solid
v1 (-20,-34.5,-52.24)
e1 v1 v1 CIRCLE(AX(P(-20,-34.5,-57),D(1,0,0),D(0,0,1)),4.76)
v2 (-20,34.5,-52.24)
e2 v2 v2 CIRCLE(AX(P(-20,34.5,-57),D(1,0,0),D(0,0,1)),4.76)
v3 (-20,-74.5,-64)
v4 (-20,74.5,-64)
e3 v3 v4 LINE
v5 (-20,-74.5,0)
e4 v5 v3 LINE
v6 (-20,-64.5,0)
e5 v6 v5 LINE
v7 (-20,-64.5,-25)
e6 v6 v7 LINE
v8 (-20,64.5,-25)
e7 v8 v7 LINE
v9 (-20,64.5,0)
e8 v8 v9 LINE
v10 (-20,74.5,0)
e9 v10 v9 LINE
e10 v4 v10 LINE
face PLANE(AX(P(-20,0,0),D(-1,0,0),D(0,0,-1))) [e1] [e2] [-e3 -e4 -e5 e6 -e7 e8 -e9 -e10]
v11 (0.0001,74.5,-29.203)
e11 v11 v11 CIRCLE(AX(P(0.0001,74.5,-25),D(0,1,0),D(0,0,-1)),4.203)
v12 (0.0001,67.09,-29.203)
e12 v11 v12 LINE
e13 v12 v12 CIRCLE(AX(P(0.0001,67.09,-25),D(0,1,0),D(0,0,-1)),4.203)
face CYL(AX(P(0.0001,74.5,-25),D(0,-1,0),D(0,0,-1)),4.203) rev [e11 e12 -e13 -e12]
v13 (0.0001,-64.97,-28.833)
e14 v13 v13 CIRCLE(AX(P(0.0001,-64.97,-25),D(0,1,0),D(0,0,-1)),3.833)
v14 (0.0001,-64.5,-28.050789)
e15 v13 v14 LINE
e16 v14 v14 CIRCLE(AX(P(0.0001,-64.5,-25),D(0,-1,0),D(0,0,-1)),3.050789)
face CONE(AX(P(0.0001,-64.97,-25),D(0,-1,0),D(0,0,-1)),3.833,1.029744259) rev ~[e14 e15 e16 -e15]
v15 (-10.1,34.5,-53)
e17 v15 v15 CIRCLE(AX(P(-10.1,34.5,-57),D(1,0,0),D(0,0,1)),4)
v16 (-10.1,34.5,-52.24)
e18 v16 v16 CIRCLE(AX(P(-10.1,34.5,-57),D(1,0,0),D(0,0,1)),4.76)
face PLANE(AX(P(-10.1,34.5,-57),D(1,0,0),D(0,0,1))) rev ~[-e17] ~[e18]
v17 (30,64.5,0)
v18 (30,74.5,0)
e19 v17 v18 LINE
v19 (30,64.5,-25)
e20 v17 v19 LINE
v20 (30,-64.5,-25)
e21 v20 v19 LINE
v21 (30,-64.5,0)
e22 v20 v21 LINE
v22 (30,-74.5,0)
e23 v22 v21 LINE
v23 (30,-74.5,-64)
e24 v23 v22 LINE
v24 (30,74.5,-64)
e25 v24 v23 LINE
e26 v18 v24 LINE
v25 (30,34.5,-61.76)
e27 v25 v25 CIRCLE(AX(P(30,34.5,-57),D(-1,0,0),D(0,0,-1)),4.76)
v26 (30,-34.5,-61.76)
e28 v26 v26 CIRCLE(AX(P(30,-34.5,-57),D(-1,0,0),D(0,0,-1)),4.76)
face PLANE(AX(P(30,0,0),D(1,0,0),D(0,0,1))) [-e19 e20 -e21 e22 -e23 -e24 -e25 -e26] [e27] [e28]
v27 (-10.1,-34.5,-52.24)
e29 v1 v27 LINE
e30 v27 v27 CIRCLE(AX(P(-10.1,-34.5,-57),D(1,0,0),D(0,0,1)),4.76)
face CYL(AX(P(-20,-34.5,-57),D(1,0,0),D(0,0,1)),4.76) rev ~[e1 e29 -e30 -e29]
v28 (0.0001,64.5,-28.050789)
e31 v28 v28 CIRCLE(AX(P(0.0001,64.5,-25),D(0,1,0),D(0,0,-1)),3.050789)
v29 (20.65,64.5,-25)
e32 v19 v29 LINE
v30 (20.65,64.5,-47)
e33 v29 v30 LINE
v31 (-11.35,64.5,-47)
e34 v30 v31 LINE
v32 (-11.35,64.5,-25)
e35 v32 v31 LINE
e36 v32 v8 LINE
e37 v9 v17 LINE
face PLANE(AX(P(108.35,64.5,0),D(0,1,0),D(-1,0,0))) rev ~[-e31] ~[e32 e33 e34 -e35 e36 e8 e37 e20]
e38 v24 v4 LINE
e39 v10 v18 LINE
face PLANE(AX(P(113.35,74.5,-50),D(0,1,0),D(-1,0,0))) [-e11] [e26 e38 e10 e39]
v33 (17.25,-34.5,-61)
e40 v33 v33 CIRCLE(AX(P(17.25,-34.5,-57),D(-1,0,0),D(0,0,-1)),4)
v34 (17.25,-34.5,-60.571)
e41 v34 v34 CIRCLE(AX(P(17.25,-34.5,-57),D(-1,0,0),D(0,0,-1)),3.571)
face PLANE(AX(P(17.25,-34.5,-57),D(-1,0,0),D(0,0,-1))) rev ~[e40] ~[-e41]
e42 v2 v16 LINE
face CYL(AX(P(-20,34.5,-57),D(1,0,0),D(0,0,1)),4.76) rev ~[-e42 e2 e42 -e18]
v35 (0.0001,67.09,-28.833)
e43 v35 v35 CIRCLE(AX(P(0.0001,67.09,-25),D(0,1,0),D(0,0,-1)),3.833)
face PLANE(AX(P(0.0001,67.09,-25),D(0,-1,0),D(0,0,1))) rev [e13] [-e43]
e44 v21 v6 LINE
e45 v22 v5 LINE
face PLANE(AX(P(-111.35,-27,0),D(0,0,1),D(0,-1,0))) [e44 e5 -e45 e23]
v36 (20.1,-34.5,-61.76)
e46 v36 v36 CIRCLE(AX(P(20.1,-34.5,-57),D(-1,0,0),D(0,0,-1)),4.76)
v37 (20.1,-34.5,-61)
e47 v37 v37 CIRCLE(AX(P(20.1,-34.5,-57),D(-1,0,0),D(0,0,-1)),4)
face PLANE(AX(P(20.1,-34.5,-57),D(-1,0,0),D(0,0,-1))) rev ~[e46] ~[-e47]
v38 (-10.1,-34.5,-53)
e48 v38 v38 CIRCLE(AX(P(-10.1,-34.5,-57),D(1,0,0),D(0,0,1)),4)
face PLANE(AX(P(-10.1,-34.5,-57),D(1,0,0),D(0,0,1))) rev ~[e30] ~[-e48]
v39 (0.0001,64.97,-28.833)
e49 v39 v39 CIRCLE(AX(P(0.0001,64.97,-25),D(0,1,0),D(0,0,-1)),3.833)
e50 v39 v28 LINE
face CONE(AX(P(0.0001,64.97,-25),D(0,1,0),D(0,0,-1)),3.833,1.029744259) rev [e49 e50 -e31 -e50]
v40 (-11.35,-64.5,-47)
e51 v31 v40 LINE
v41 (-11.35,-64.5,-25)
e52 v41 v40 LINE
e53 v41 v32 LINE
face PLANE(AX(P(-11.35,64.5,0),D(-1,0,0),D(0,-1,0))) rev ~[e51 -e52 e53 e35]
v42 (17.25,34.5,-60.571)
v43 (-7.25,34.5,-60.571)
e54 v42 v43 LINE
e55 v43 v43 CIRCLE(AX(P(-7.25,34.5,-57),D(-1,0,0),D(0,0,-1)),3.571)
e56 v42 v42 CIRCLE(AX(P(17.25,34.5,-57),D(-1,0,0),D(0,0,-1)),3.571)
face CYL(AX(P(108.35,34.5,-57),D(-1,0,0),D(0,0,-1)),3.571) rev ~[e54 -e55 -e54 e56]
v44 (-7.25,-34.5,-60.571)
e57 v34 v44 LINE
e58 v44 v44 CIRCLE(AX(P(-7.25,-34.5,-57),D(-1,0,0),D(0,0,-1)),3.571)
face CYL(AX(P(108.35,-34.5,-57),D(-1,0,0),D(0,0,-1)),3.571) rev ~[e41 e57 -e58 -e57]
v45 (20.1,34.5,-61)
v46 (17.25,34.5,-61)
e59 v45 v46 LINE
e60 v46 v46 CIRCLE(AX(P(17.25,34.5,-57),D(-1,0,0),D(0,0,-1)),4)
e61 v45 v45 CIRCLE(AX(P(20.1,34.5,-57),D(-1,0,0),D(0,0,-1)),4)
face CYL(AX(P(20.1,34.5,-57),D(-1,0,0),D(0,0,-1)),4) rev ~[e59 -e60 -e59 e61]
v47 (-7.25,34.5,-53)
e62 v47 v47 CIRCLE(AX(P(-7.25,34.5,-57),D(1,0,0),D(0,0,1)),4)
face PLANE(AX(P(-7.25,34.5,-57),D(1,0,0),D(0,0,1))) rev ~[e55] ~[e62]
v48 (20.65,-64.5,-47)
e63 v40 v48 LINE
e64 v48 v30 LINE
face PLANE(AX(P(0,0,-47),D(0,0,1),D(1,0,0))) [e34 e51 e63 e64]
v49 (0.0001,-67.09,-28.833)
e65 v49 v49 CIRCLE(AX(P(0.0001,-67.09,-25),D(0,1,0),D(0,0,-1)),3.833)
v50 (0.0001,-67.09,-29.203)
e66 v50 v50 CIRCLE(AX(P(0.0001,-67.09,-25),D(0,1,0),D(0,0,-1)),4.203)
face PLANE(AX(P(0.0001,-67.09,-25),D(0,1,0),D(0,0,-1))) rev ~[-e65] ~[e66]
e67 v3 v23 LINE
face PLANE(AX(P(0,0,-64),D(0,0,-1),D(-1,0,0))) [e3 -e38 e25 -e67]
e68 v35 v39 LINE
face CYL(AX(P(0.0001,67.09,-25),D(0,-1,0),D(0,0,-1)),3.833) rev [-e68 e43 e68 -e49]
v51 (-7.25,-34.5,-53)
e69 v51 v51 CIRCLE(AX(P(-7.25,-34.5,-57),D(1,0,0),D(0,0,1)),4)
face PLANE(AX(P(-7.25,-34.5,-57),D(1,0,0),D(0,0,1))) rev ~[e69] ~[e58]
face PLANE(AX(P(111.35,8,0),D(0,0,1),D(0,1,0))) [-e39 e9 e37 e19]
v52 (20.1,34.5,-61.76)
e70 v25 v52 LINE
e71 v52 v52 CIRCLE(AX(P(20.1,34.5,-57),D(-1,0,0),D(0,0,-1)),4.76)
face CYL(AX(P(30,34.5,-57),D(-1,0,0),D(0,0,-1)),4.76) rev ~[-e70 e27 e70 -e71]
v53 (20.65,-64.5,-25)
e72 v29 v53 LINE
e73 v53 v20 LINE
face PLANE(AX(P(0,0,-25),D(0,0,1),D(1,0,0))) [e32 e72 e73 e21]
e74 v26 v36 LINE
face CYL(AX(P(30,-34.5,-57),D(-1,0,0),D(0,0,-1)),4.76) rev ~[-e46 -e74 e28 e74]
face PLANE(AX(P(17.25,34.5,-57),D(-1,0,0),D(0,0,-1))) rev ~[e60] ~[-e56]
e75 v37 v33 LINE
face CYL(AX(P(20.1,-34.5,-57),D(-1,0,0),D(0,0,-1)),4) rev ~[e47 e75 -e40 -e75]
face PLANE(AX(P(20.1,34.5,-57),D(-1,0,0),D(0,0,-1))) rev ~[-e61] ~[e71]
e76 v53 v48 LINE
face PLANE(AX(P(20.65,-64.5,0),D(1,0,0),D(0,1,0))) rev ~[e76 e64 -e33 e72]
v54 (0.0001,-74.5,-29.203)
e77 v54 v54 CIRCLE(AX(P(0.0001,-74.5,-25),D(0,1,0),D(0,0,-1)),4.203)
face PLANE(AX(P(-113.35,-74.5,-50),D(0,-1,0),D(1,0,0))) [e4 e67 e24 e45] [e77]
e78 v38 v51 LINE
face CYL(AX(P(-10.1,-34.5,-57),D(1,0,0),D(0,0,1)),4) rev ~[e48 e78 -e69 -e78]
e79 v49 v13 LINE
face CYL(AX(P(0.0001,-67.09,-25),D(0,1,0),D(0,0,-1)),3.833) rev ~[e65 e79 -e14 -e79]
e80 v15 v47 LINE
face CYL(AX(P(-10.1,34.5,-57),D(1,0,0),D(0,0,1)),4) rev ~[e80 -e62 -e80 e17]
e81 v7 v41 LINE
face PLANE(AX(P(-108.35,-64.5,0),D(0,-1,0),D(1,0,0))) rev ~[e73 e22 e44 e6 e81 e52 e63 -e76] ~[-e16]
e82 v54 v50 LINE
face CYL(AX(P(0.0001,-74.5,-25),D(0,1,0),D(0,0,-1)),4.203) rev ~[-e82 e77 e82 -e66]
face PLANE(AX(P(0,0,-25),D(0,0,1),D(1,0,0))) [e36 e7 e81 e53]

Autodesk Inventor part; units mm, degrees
ref_plane "XZ Plane" through (0, 0, 0) normal (0, 1, 0) x (-1, 0, 0)
ref_plane "XY Plane" through (0, 0, 0) normal (0, 0, 1) x (1, 0, 0)
sketch "Sketch1" plane through (0, 0, 0) normal (0, 0, 1) x (1, 0, 0)
  line L0 (-111.35, -74.5) -> (111.35, -74.5)
  line L1 (111.35, -74.5) -> (111.35, 74.5)
  line L2 (111.35, 74.5) -> (-111.35, 74.5)
  line L3 (-111.35, 74.5) -> (-111.35, -74.5)
  line L4 (-111.35, -74.5) -> (111.35, 74.5) construction
  line L5 (111.35, -74.5) -> (-111.35, 74.5) construction
  point P0 (0, 0)
  dimension "d0" = 222.7
  dimension "d1" = 149
extrude "MainInnerBodyExtrusion" add sketch "Sketch1" against normal blind 50
sketch "Sketch3" plane through (0, 0, 0) normal (0, 0, 1) x (1, 0, 0)
  line L0 (36.65, -27) -> (95.65, -27)
  line L1 (95.65, -27) -> (95.65, 27)
  line L2 (95.65, 27) -> (36.65, 27)
  line L3 (36.65, 27) -> (36.65, -27)
  line L4 (36.65, -27) -> (95.65, 27) construction
  line L5 (95.65, -27) -> (36.65, 27) construction
  line L6 (111.35, -74.5) -> (111.35, 74.5) projected
  line L7 (0, 0) -> (111.35, 0) construction
  line L8 (-111.35, -74.5) -> (-111.35, 74.5) construction
  line L9 (-111.35, 74.5) -> (-111.35, -74.5) projected
  point P0 (66.15, 0)
  point P1 (66.15, 0)
  dimension "d5" = 15.7
  dimension "d6" = 54
  dimension "d7" = 59
extrude "HoleForCamerabase" cut sketch "Sketch3" against normal blind 47
sketch "Sketch4" plane through (0, 0, 0) normal (0, 0, 1) x (1, 0, 0)
  line L0 (0, 0) -> (-111.35, 0) construction
  line L1 (-111.35, -74.5) -> (-111.35, 74.5) construction
  line L2 (-108.35, -31) -> (-92.35, -31)
  line L3 (-92.35, -31) -> (-92.35, 31)
  line L4 (-92.35, 31) -> (-108.35, 31)
  line L5 (-108.35, 31) -> (-108.35, -31)
  line L6 (-108.35, -31) -> (-92.35, 31) construction
  line L7 (-92.35, -31) -> (-108.35, 31) construction
  point P0 (-100.35, 0)
  dimension "d13" = 16
  dimension "d14" = 62
  dimension "d15" = 3
extrude "HoleForFan" cut sketch "Sketch4" against normal blind 47
sketch "Sketch6" plane through (0, 0, 0) normal (0, 0, 1) x (1, 0, 0)
  line L0 (-111.35, -74.5) -> (-111.35, 74.5) construction
  line L1 (-111.35, 0) -> (111.35, 0) construction
  line L2 (111.35, 74.5) -> (111.35, -74.5) construction
  line L3 (-11.35, -64.5) -> (20.65, -64.5)
  line L4 (20.65, -64.5) -> (20.65, 64.5)
  line L5 (20.65, 64.5) -> (-11.35, 64.5)
  line L6 (-11.35, 64.5) -> (-11.35, -64.5)
  line L7 (-11.35, -64.5) -> (20.65, 64.5) construction
  line L8 (20.65, -64.5) -> (-11.35, 64.5) construction
  line L9 (36.65, -27) -> (36.65, 27) projected
  point P0 (0, 0)
  point P1 (4.65, 0)
  dimension "d20" = 32
  dimension "d21" = 129
  dimension "d88" = 16
extrude "HoleForPi" cut sketch "Sketch6" against normal blind 47
sketch "Sketch7" plane through (0, 0, 0) normal (0, 0, 1) x (1, 0, 0)
  line L0 (0, 0) -> (-111.35, 0) construction
  line L1 (-111.35, 74.5) -> (-111.35, -74.5) construction
  line L2 (-76.35, -59) -> (-27.35, -59)
  line L3 (-27.35, -59) -> (-27.35, 59)
  line L4 (-27.35, 59) -> (-76.35, 59)
  line L5 (-76.35, 59) -> (-76.35, -59)
  line L6 (-76.35, -59) -> (-27.35, 59) construction
  line L7 (-27.35, -59) -> (-76.35, 59) construction
  line L8 (-11.35, -64.5) -> (-11.35, 64.5) projected
  line L9 (-92.35, 31) -> (-92.35, -31) construction
  point P0 (-51.85, 0)
  dimension "d25" = 16
  dimension "d26" = 49
  dimension "d27" = 118
extrude "HoleForPoeAdapter" cut sketch "Sketch7" against normal blind 47
sketch "Sketch10" plane through (0, 0, 0) normal (0, 0, 1) x (1, 0, 0)
  line L0 (39.35, 36.5) -> (108.35, 36.5)
  line L1 (108.35, 36.5) -> (108.35, 64.5)
  line L2 (108.35, 64.5) -> (39.35, 64.5)
  line L3 (39.35, 64.5) -> (39.35, 36.5)
  line L4 (39.35, 36.5) -> (108.35, 64.5) construction
  line L5 (108.35, 36.5) -> (39.35, 64.5) construction
  line L6 (111.35, 74.5) -> (-111.35, 74.5) projected
  line L7 (111.35, -74.5) -> (111.35, 74.5) projected
  point P0 (0, 0)
  point P1 (73.85, 50.5)
  point P2 (94.85, 8.5)
  point P3 (108.35, 50.5)
  dimension "d36" = 69
  dimension "d37" = 28
  dimension "d85" = 3
extrude "HoleForThermister" cut sketch "Sketch10" against normal blind 47
sketch "Sketch11" plane through (0, 0, 0) normal (0, 0, 1) x (1, 0, 0)
  line L0 (58.35, -64.5) -> (108.35, -64.5)
  line L1 (108.35, -64.5) -> (108.35, -47.5)
  line L2 (108.35, -47.5) -> (58.35, -47.5)
  line L3 (58.35, -47.5) -> (58.35, -64.5)
  line L4 (58.35, -64.5) -> (108.35, -47.5) construction
  line L5 (108.35, -64.5) -> (58.35, -47.5) construction
  line L6 (111.35, -74.5) -> (111.35, 74.5) projected
  line L7 (-111.35, -74.5) -> (111.35, -74.5) projected
  line L8 (95.65, -27) -> (36.65, -27) projected
  line L9 (20.65, 64.5) -> (20.65, -64.5) projected
  point P0 (0, 0)
  point P1 (83.35, -56)
  point P2 (94.85, -8.5)
  point P3 (83.35, -47.5)
  point P4 (58.35, -56)
  point P5 (111.35, 74.5)
  dimension "d42" = 50
  dimension "d43" = 17
  dimension "d86" = 3
  dimension "d87" = 10
extrude "HoleForSensor" cut sketch "Sketch11" against normal blind 31.5
sketch "Sketch15" plane through (-111.35, -74.5, 0) normal (-1, 0, 0) x (0, 0, 1)
  line L0 (0, 149) -> (0, 0) projected
  line L1 (0, 149) -> (-50, 149) projected
  line L2 (-50, 0) -> (-50, 149) projected
  line L3 (0, 0) -> (-50, 0) projected
  line L4 (0, 0) -> (0, 149) projected
  line L5 (0, 101.5) -> (0, 47.5) projected
  line L6 (0, 74.5) -> (-30, 74.5) construction
  line L7 (0, 76.5) -> (-29.9333, 76.5)
  line L8 (0, 84.5) -> (-28.2843, 84.5)
  line L9 (0, 80.5) -> (-29.3939, 80.5)
  line L10 (0, 76.5) -> (0, 74.5)
  line L11 (0, 88.5) -> (-26.533, 88.5)
  line L12 (0, 92.5) -> (-24, 92.5)
  line L13 (-20.5913, 97.5) -> (0, 97.5)
  line L14 (-14.9666, 101.5) -> (0, 101.5)
  line L15 (0, 84.5) -> (0, 80.5)
  line L16 (0, 101.5) -> (0, 97.5)
  line L17 (0, 92.5) -> (0, 88.5)
  line L18 (0, 72.5) -> (-29.9333, 72.5)
  line L19 (0, 64.5) -> (-28.2843, 64.5)
  line L20 (0, 68.5) -> (-29.3939, 68.5)
  line L21 (0, 72.5) -> (0, 74.5)
  line L22 (0, 60.5) -> (-26.533, 60.5)
  line L23 (0, 56.5) -> (-24, 56.5)
  line L24 (-20.5913, 51.5) -> (0, 51.5)
  line L25 (-14.9666, 47.5) -> (0, 47.5)
  line L26 (0, 64.5) -> (0, 68.5)
  line L27 (0, 56.5) -> (0, 60.5)
  line L28 (0, 47.5) -> (0, 51.5)
  line L29 (0, 72.5) -> (0, 76.5)
  line L30 (0, 80.5) -> (0, 84.5)
  line L31 (0, 88.5) -> (0, 92.5)
  line L32 (0, 97.5) -> (0, 149)
  arc A0 (-28.2843, 84.5) -> (-29.3939, 80.5) centre (0, 74.5) ccw
  arc A1 (-14.9666, 101.5) -> (-20.5913, 97.5) centre (0, 74.5) ccw
  arc A2 (-24, 92.5) -> (-26.533, 88.5) centre (0, 74.5) ccw
  arc A3 (-29.9333, 76.5) -> (-29.9333, 72.5) centre (0, 74.5) ccw
  arc A4 (-29.3939, 68.5) -> (-28.2843, 64.5) centre (0, 74.5) ccw
  arc A5 (-26.533, 60.5) -> (-24, 56.5) centre (0, 74.5) ccw
  arc A6 (-20.5913, 51.5) -> (-14.9666, 47.5) centre (0, 74.5) ccw
  point P0 (0, 82)
  point P1 (0, 67.0167)
  point P2 (0, 4.25)
  point P3 (-10.2956, 97.5)
  point P4 (0, 47.5)
  point P5 (0, 51.5)
  point P6 (0, 56.5)
  point P7 (0, 60.5)
  point P8 (0, 64.5)
  point P9 (0, 68.5)
  point P10 (0, 72.5)
  point P11 (0, 80.5)
  point P12 (0, 84.5)
  point P13 (0, 88.5)
  point P14 (0, 92.5)
  point P15 (0, 97.5)
  point P16 (0, 101.5)
  dimension "d69" = 2
  dimension "d71" = 4
  dimension "d72" = 4
  dimension "d73" = 4
  dimension "d75" = 4
  dimension "d142" = 30
extrude "SlotsForRearFan" cut sketch "Sketch15" against normal up to surface (3 mm away) contours L0 L13 A1 L14 | L0 L11 A2 L12 | L25 A6 L24 L0 | L0 L9 A0 L8 | L23 A5 L22 L0 | L0 L18 A3 L7 | L19 A4 L20 L0
sketch "Sketch16" plane through (0, 0, -47) normal (0, 0, 1) x (1, 0, 0)
  line L0 (95.65, 27) -> (95.65, -27) projected
  line L1 (80.15, 10.765) -> (80.15, -11.235) construction
  line L2 (78.65, 10.765) -> (78.65, -11.235)
  line L3 (75.65, -11.235) -> (75.65, 10.765)
  line L4 (72.65, 8.7746) -> (72.65, -9.2446)
  line L5 (69.65, 3.5785) -> (69.65, -4.0485)
  line L6 (81.65, 10.765) -> (81.65, -11.235)
  line L7 (84.65, -11.235) -> (84.65, 10.765)
  line L8 (87.65, 8.7746) -> (87.65, -9.2446)
  line L9 (90.65, 3.5785) -> (90.65, -4.0485)
  line L10 (73.7991, 10.765) -> (75.65, 10.765)
  line L11 (75.65, -11.235) -> (73.7991, -11.235)
  line L12 (73.7991, -11.235) -> (72.65, -9.2446)
  line L13 (69.65, -4.0485) -> (67.4483, -0.235)
  line L14 (67.4483, -0.235) -> (69.65, 3.5785)
  line L15 (72.65, 8.7746) -> (73.7991, 10.765)
  line L16 (78.65, 10.765) -> (81.65, 10.765)
  line L17 (84.65, 10.765) -> (86.5009, 10.765)
  line L18 (86.5009, -11.235) -> (84.65, -11.235)
  line L19 (81.65, -11.235) -> (78.65, -11.235)
  line L20 (92.8517, -0.235) -> (90.65, -4.0485)
  line L21 (87.65, -9.2446) -> (86.5009, -11.235)
  line L22 (86.5009, 10.765) -> (87.65, 8.7746)
  line L23 (90.65, 3.5785) -> (92.8517, -0.235)
  point P0 (0, 0)
  point P1 (80.15, -0.235)
  point P2 (69.65, -0.235)
  dimension "d78" = 15.5
  dimension "d89" = 1.5
  dimension "d90" = 3
  dimension "d91" = 3
  dimension "d92" = 3
extrude "VentForCamera" cut sketch "Sketch16" against normal through all
sketch "Sketch18" plane through (111.35, -74.5, 0) normal (1, 0, 0) x (0, 0, -1)
  line L0 (0, 74.5) -> (29.6767, 74.5) construction
  arc A0 (24, 66.5) -> (24, 82.5) centre (24, 74.5) ccw
  line L1 (0, 0) -> (0, 149) projected
  line L2 (24, 82.5) -> (0, 82.5)
  line L3 (24, 66.5) -> (0, 66.5)
  line L4 (0, 82.5) -> (0, 66.5)
  point P0 (0, 74.5)
  dimension "d97" = 16
  dimension "d137" = 24
extrude "HoleForLens" cut sketch "Sketch18" against normal up to surface (15.7 mm away)
sketch "Sketch23" plane through (0, 0, 0) normal (0, 0, 1) x (1, 0, 0)
  line L0 (-106.35, -69.5) -> (106.35, -69.5) construction
  line L1 (106.35, -69.5) -> (106.35, 69.5) construction
  line L2 (106.35, 69.5) -> (-106.35, 69.5) construction
  line L3 (-106.35, 69.5) -> (-106.35, -69.5) construction
  line L4 (-106.35, -69.5) -> (106.35, 69.5) construction
  line L5 (106.35, -69.5) -> (-106.35, 69.5) construction
  line L6 (111.35, -74.5) -> (111.35, -8) projected
  line L7 (111.35, 74.5) -> (-111.35, 74.5) projected
  line L8 (-111.35, -27) -> (-111.35, -74.5) projected
  line L9 (-111.35, 74.5) -> (-111.35, 27) projected
  line L10 (111.35, 8) -> (111.35, 74.5) projected
  point P0 (0, 0)
  point P1 (35.15, -69.5)
  point P2 (-35.15, -69.5)
  point P3 (-35.15, 69.5)
  point P4 (35.15, 69.5)
  dimension "d106" = 5
  dimension "d108" = 5
  dimension "d222" = 76.2
  dimension "d223" = 76.2
  dimension "d224" = 76.2
  dimension "d225" = 76.2
hole "Hole for 6-32 Insert" at (-106.35, 69.5, 0) at (106.35, 69.5, 0) at (106.35, -69.5, 0) at (-106.35, -69.5, 0) at (-35.15, -69.5, 0) at (35.15, -69.5, 0) at (-35.15, 69.5, 0) at (35.15, 69.5, 0) direction (0, 0, -1) diameter 4.7 depth 7.2 tip angle 118 counterbore diameter 5.54 counterbore depth 5.55
hole "Screw hole for 6-32 screw" at (-106.35, -69.5, 0) at (106.35, -69.5, 0) at (106.35, 69.5, 0) at (-106.35, 69.5, 0) direction (0, 0, -1) diameter 3.797 depth 15 tip angle 118 clearance for "Hex Machine Screw" size "#6" standard "Ansi Unified Screw Threads"
sketch "Sketch24" plane through (-111.35, -74.5, 0) normal (0, -1, 0) x (1, 0, 0)
  line L0 (0, -50) -> (222.7, -50) construction
  line L1 (222.7, 0) -> (207, 0) construction
  line L2 (0, 0) -> (0, -50) projected
  line L3 (111.3501, -25) -> (0, -25) construction
  line L4 (111.3501, -25) -> (222.7, -24.84) construction
  line L5 (222.7, 0) -> (222.7, -50) construction
  point P0 (111.35, 0)
  dimension "d226" = 25
  dimension "d227" = 111.3501
hole "Side hole for 1-4 20 insert" at (0.0001, -74.5, -25) direction (0, 1, 0) diameter 7.666 depth 9.53 tip angle 118 counterbore diameter 8.406 counterbore depth 7.41 clearance for "Hex Machine Screw" size "1/4" standard "Ansi Unified Screw Threads"
mirror "Mirror for side insert" about plane through (0, 0, 0) normal (0, 1, 0) of "Side hole for 1-4 20 insert"
sketch "Sketch25" plane through (0, 0, 0) normal (0, 0, 1) x (1, 0, 0)
  line L0 (111.35, 74.5) -> (-111.35, 74.5) projected
  line L1 (-111.35, 74.5) -> (-111.35, 27) projected
  line L2 (-111.35, -74.5) -> (111.35, -74.5) projected
  line L3 (81.65, -11.235) -> (78.65, -11.235) projected
  line L4 (78.65, -11.235) -> (78.65, 10.765) projected
  line L5 (78.65, 10.765) -> (81.65, 10.765) projected
  line L6 (81.65, 10.765) -> (81.65, -11.235) projected
  line L7 (73.7991, 10.765) -> (75.65, 10.765) projected
  line L8 (75.65, 10.765) -> (75.65, -11.235) projected
  line L9 (75.65, -11.235) -> (73.7991, -11.235) projected
  line L10 (73.7991, -11.235) -> (72.65, -9.2446) projected
  line L11 (72.65, -9.2446) -> (72.65, 8.7746) projected
  line L12 (72.65, 8.7746) -> (73.7991, 10.765) projected
  line L13 (87.65, 8.7746) -> (87.65, -9.2446) projected
  line L14 (87.65, -9.2446) -> (86.5009, -11.235) projected
  line L15 (86.5009, -11.235) -> (84.65, -11.235) projected
  line L16 (84.65, -11.235) -> (84.65, 10.765) projected
  line L17 (84.65, 10.765) -> (86.5009, 10.765) projected
  line L18 (86.5009, 10.765) -> (87.65, 8.7746) projected
  line L19 (69.65, 3.5785) -> (69.65, -4.0485) projected
  line L20 (69.65, -4.0485) -> (67.4483, -0.235) projected
  line L21 (67.4483, -0.235) -> (69.65, 3.5785) projected
  line L22 (92.8517, -0.235) -> (90.65, -4.0485) projected
  line L23 (90.65, -4.0485) -> (90.65, 3.5785) projected
  line L24 (90.65, 3.5785) -> (92.8517, -0.235) projected
  line L25 (95.65, 27) -> (95.65, -27) projected
  line L26 (36.65, 27) -> (95.65, 27) projected
  line L27 (36.65, -27) -> (36.65, 27) projected
  line L28 (95.65, -27) -> (36.65, -27) projected
  line L29 (111.35, -74.5) -> (111.35, -8) projected
  line L30 (111.35, 8) -> (111.35, 74.5) projected
  line L31 (-108.35, -64.5) -> (108.35, -64.5)
  line L32 (108.35, -64.5) -> (108.35, 64.5)
  line L33 (108.35, 64.5) -> (-108.35, 64.5)
  line L34 (-108.35, 64.5) -> (-108.35, -64.5)
  line L35 (-108.35, -64.5) -> (108.35, 64.5) construction
  line L36 (108.35, -64.5) -> (-108.35, 64.5) construction
  line L37 (-27.35, 59) -> (-27.35, -59) projected
  point P0 (0, 0)
  dimension "d138" = 10
  dimension "d139" = 3
extrude "Extrusion18" cut sketch "Sketch25" against normal blind 25 contours L34 L33 L32 L31
sketch "Sketch26" plane through (-111.35, -74.5, -50) normal (-1, 0, 0) x (0, 0, 1)
  arc A0 (50, 124) -> (50, 134) centre (50, 129) ccw
  circle A1 centre (50, 129) radius 5
  point P0 (50, 74.5)
  point P1 (50, 124)
extrude "HoleForPowerWire" cut sketch "Sketch26" against normal up to surface (3 mm away)
sketch "Sketch37" plane through (-111.35, -74.5, -50) normal (-1, 0, 0) x (0, 0, 1)
  arc A0 (50, 134) -> (50, 124) centre (50, 129) ccw projected
  line L0 (50, 149) -> (50, 134) projected
  line L1 (50, 149) -> (0, 149) projected
  line L2 (0, 0) -> (0, 149) projected
  line L3 (50, 0) -> (0, 0) projected
  line L4 (50, 47.5) -> (50, 0) projected
  line L5 (50, 47.5) -> (35.0334, 47.5) projected
  arc A1 (29.4087, 51.5) -> (35.0334, 47.5) centre (50, 74.5) ccw projected
  line L6 (29.4087, 51.5) -> (50, 51.5) projected
  line L7 (50, 56.5) -> (50, 51.5) projected
  line L8 (50, 56.5) -> (26, 56.5) projected
  arc A2 (23.467, 60.5) -> (26, 56.5) centre (50, 74.5) ccw projected
  line L9 (23.467, 60.5) -> (50, 60.5) projected
  line L10 (50, 64.5) -> (50, 60.5) projected
  line L11 (50, 64.5) -> (21.7157, 64.5) projected
  arc A3 (20.6061, 68.5) -> (21.7157, 64.5) centre (50, 74.5) ccw projected
  line L12 (20.6061, 68.5) -> (50, 68.5) projected
  line L13 (50, 72.5) -> (50, 68.5) projected
  line L14 (50, 72.5) -> (20.0667, 72.5) projected
  arc A4 (20.0667, 76.5) -> (20.0667, 72.5) centre (50, 74.5) ccw projected
  line L15 (20.0667, 76.5) -> (50, 76.5) projected
  line L16 (50, 80.5) -> (50, 76.5) projected
  line L17 (50, 80.5) -> (20.6061, 80.5) projected
  arc A5 (21.7157, 84.5) -> (20.6061, 80.5) centre (50, 74.5) ccw projected
  line L18 (21.7157, 84.5) -> (50, 84.5) projected
  line L19 (50, 88.5) -> (50, 84.5) projected
  line L20 (50, 88.5) -> (23.467, 88.5) projected
  arc A6 (26, 92.5) -> (23.467, 88.5) centre (50, 74.5) ccw projected
  line L21 (26, 92.5) -> (50, 92.5) projected
  line L22 (50, 97.5) -> (50, 92.5) projected
  line L23 (50, 97.5) -> (29.4087, 97.5) projected
  arc A7 (35.0334, 101.5) -> (29.4087, 97.5) centre (50, 74.5) ccw projected
  line L24 (35.0334, 101.5) -> (50, 101.5) projected
  line L25 (50, 124) -> (50, 101.5) projected
  line L26 (0, 149) -> (50, 149)
  line L27 (50, 149) -> (50, 0)
  line L28 (50, 0) -> (0, 0)
  line L29 (0, 0) -> (0, 149)
extrude "Extrusion22" add sketch "Sketch37" along normal blind 2 contours A0 L25 L24 A7 L23 L22 L21 A6 L20 L19 L18 A5 L17 L16 L15 A4 L14 L13 L12 A3 L11 L10 L9 A2 L8 L7 L6 A1 L5 L4 L3 L2 L1 L0
sketch "Sketch38" plane through (111.35, -74.5, -50) normal (1, 0, 0) x (0, 0, -1)
  line L0 (-50, 82.5) -> (-50, 149) projected
  line L1 (-50, 0) -> (0, 0) projected
  line L2 (0, 149) -> (0, 0) projected
  line L3 (-50, 149) -> (0, 149) projected
  line L4 (-50, 0) -> (-50, 66.5) projected
  arc A0 (-50, 65.1192) -> (-50, 83.8808) centre (-29, 74.5) ccw projected
  line L5 (-26, 66.5) -> (-50, 66.5) projected
  arc A1 (-26, 66.5) -> (-26, 82.5) centre (-26, 74.5) ccw projected
  line L6 (-50, 82.5) -> (-26, 82.5) projected
  line L7 (-26, 66.5) -> (-50, 66.5) projected
  line L8 (-50, 82.5) -> (-26, 82.5) projected
  arc A2 (-26, 66.5) -> (-26, 82.5) centre (-26, 74.5) ccw projected
  point P0 (-50, 74.5)
extrude "Extrusion23" add sketch "Sketch38" along normal blind 2
sketch "Sketch39" plane through (0, 0, -50) normal (0, 0, -1) x (-1, 0, 0)
  line L0 (-78.65, -11.235) -> (-81.65, -11.235) projected
  line L1 (-81.65, -11.235) -> (-81.65, 10.765) projected
  line L2 (-81.65, 10.765) -> (-78.65, 10.765) projected
  line L3 (-78.65, 10.765) -> (-78.65, -11.235) projected
  line L4 (-75.65, 10.765) -> (-73.7991, 10.765) projected
  line L5 (-73.7991, 10.765) -> (-72.65, 8.7746) projected
  line L6 (-72.65, 8.7746) -> (-72.65, -9.2446) projected
  line L7 (-72.65, -9.2446) -> (-73.7991, -11.235) projected
  line L8 (-73.7991, -11.235) -> (-75.65, -11.235) projected
  line L9 (-75.65, -11.235) -> (-75.65, 10.765) projected
  line L10 (-87.65, -9.2446) -> (-87.65, 8.7746) projected
  line L11 (-87.65, 8.7746) -> (-86.5009, 10.765) projected
  line L12 (-86.5009, 10.765) -> (-84.65, 10.765) projected
  line L13 (-84.65, 10.765) -> (-84.65, -11.235) projected
  line L14 (-84.65, -11.235) -> (-86.5009, -11.235) projected
  line L15 (-86.5009, -11.235) -> (-87.65, -9.2446) projected
  line L16 (-69.65, -4.0485) -> (-69.65, 3.5785) projected
  line L17 (-69.65, 3.5785) -> (-67.4483, -0.235) projected
  line L18 (-67.4483, -0.235) -> (-69.65, -4.0485) projected
  line L19 (-90.65, -4.0485) -> (-92.8517, -0.235) projected
  line L20 (-92.8517, -0.235) -> (-90.65, 3.5785) projected
  line L21 (-90.65, 3.5785) -> (-90.65, -4.0485) projected
  line L22 (113.35, -74.5) -> (-113.35, -74.5) projected
  line L23 (113.35, 74.5) -> (113.35, -74.5) projected
  line L24 (-113.35, 74.5) -> (113.35, 74.5) projected
  line L25 (-113.35, -74.5) -> (-113.35, 74.5) projected
  line L26 (113.35, -74.5) -> (-113.35, -74.5) projected
  line L27 (-113.35, 74.5) -> (113.35, 74.5)
  line L28 (113.35, 74.5) -> (113.35, -74.5)
  line L29 (113.35, -74.5) -> (-113.35, -74.5)
  line L30 (-113.35, -74.5) -> (-113.35, 74.5)
  point P0 (0, 0)
extrude "ExtrusionForBottom" add sketch "Sketch39" along normal blind 14
sketch "Sketch40" plane through (113.35, -74.5, -50) normal (1, 0, 0) x (0, 0, -1)
  line L0 (-50, 0) -> (14, 0) construction
  line L1 (7, 0) -> (7, 149) construction
  line L2 (-50, 149) -> (14, 149) construction
  line L3 (14, 149) -> (14, 0) construction
  point P0 (-50, 74.5)
  point P1 (7, 40)
  point P2 (7, 109)
  dimension "d234" = 7
  dimension "d235" = 40
  dimension "d236" = 40
hole "1-4 holesToBoltFixture" at (113.35, -34.5, -57) at (113.35, 34.5, -57) direction (-1, 0, 0) diameter 7.142 end through all counterbore diameter 12 counterbore depth 5 clearance for "Hex Machine Screw" size "1/4" standard "Ansi Unified Screw Threads"
ref_plane "Work Plane1" through (30, 0, 0) normal (1, 0, 0) x (0, 1, 0)
ref_plane "Work Plane2" through (-20, 0, 0) normal (1, 0, 0) x (0, 1, 0)
mirror "Mirror4" about plane through (0, 0, 0) normal (1, 0, 0) of "1-4 holesToBoltFixture"
sketch "Sketch43" plane through (113.35, -74.5, -50) normal (1, 0, 0) x (0, 0, -1)
  circle A0 centre (7, 40) radius 6 projected
  circle A1 centre (7, 109) radius 6 projected
  line L0 (-50, 66.5) -> (-50, 0) projected
  line L1 (-50, 0) -> (14, 0) projected
  line L2 (14, 149) -> (14, 0) projected
  line L3 (-50, 149) -> (14, 149) projected
  line L4 (-50, 149) -> (-50, 82.5) projected
  line L5 (-50, 82.5) -> (-26, 82.5) projected
  arc A2 (-26, 66.5) -> (-26, 82.5) centre (-26, 74.5) ccw projected
  line L6 (-26, 66.5) -> (-50, 66.5) projected
  circle A3 centre (-29, 74.5) radius 26.125
  circle A4 centre (-29, 74.5) radius 23.5
  point P0 (-50, 74.5)
  point P1 (-50, 85.0475)
  point P2 (-50, 63.9525)
  point P3 (-50, 58.9592)
  point P4 (-50, 90.0408)
  dimension "d255" = 21
  dimension "d256" = 52.25
  dimension "d257" = 47
extrude "CutOutForFilter" cut sketch "Sketch43" against normal blind 2.25 contours A4 L4 A3 L0 picked at (-35.0652, 51.0112)
sketch "Sketch47" plane through (113.35, -74.5, -50) normal (1, 0, 0) x (0, 0, -1)
  arc A0 (-50, 58.9592) -> (-50, 90.0408) centre (-29, 74.5) ccw projected
  line L0 (-50, 58.9592) -> (-50, 0) projected
  line L1 (-50, 0) -> (14, 0) projected
  line L2 (14, 149) -> (14, 0) projected
  line L3 (-50, 149) -> (14, 149) projected
  line L4 (-50, 149) -> (-50, 90.0408) projected
  circle A1 centre (7, 40) radius 6 projected
  circle A2 centre (7, 109) radius 6 projected
  line L5 (-13, 149) -> (-13, 0) construction
  line L6 (-50, 0) -> (14, 0) construction
  point P0 (-50, 74.5)
  point P1 (-13, 144)
  point P2 (-13, 5)
  dimension "d293" = 27
  dimension "d294" = 5
  dimension "d295" = 5
hole "Hole13" at (113.35, 69.5, -37) at (113.35, -69.5, -37) direction (-1, 0, 0) diameter 4.699 depth 7.1374 counterbore diameter 4.8514 counterbore depth 5.5524
sketch "Sketch46" plane through (-113.35, -74.5, 0) normal (0, -1, 0) x (1, 0, 0)
  line L0 (0, 0) -> (226.7, 0) projected
  line L1 (0, 0) -> (0, -64) projected
  line L2 (226.7, -64) -> (0, -64) projected
  line L3 (143.35, 12.8) -> (143.35, -76.8) projected
  line L4 (93.35, 12.8) -> (93.35, -76.8) projected
  line L5 (226.7, -24) -> (226.7, -32) construction
  line L6 (0, -32) -> (226.7, -32) construction
  line L7 (135.35, -32) -> (151.35, -16)
  line L8 (151.35, -16) -> (143.35, -8)
  line L9 (135.35, -32) -> (151.35, -48)
  line L10 (151.35, -48) -> (143.35, -56)
  line L11 (143.35, -8) -> (143.35, -56)
  line L12 (101.35, -32) -> (85.35, -16)
  line L13 (85.35, -16) -> (93.35, -8)
  line L14 (101.35, -32) -> (85.35, -48)
  line L15 (85.35, -48) -> (93.35, -56)
  line L16 (93.35, -56) -> (93.35, -8)
  line L17 (93.35, -56) -> (93.35, -40)
  line L18 (93.35, -64) -> (93.35, 0) projected
  line L19 (226.7, 0) -> (226.7, -64) projected
  point P0 (113.35, 0)
  point P1 (143.35, -40)
  point P2 (143.35, -24)
  point P3 (93.35, -24)
  dimension "d264" = 90
  dimension "d265" = 90
  dimension "d266" = 90
  dimension "d267" = 8
  dimension "d268" = 8
  dimension "d269" = 8
  dimension "d270" = 8
  dimension "d271" = 90
  dimension "d272" = 90
  dimension "d273" = 90
split "Split6" plane through (-20, 0, 0) removes the side toward (-1, 0, 0)
split "Split7" plane through (30, 0, 0) removes the side toward (1, 0, 0)
sketch "Sketch48" plane through (30, -74.5, -64) normal (1, 0, 0) x (0, 0, -1)
  circle A0 centre (-7, 40) radius 3.571 projected
  circle A1 centre (-7, 109) radius 3.571 projected
  point P0 (-64, 74.5)
hole "Hole14" at (30, -34.5, -57) at (30, 34.5, -57) direction (-1, 0, 0) diameter 8 depth 12.75 counterbore diameter 9.52 counterbore depth 9.9
sketch "Sketch50" plane through (-20, -74.5, -64) normal (-1, 0, 0) x (0, 0, 1)
  circle A0 centre (7, 109) radius 4 projected
  circle A1 centre (7, 40) radius 3.571 projected
  point P0 (64, 74.5)
hole "Hole15" at (-20, 34.5, -57) at (-20, -34.5, -57) direction (1, 0, 0) diameter 8 depth 12.75 counterbore diameter 9.52 counterbore depth 9.9
equation "\"d0\" = newCaseLength"
equation "\"d1\" = caseWidth"
equation "\"d2\" = caseDepth"
equation "\"d5\" = lensLength"
equation "\"d6\" = cameraWidth"
equation "\"d7\" = cameraLength"
equation "\"d8\" = maxComponentDepth"
equation "\"d13\" = fanDepth"
equation "\"d14\" = fanWidth"
equation "\"d15\" = rearWallThickness"
equation "\"d16\" = maxComponentDepth"
equation "\"d20\" = piCaseDepth"
equation "\"d21\" = piCaseLength"
equation "\"d88\" = minDelta"
equation "\"d22\" = maxComponentDepth"
equation "\"d25\" = minDelta"
equation "\"d26\" = poeWidth"
equation "\"d27\" = poeLength"
equation "\"d28\" = maxComponentDepth"
equation "\"d36\" = thermisterLength"
equation "\"d37\" = thermisterWidth"
equation "\"d85\" = frontWallThickness"
equation "\"d38\" = maxComponentDepth"
equation "\"d42\" = sensorLength"
equation "\"d43\" = sensorWidth"
equation "\"d86\" = frontWallThickness"
equation "\"d87\" = outsideWallThickness"
equation "\"d46\" = cutoutDepth"
equation "\"outsideWallThickness\" = 10"
equation "\"caseWidth\" = piCaseLength + 2 * outsideWallThickness"
equation "\"cameraWidth\" = 54"
equation "\"oneHalfCaseDepth\" = piCaseWidth"
equation "\"caseLength\" = 189.7"
equation "\"cameraLength\" = 59"
equation "\"lensLength\" = 15.7"
equation "\"piCaseWidth\" = 63"
equation "\"piCaseDepth\" = 32"
equation "\"poeDepth\" = 38"
equation "\"piEthernetCableReliefLength\" = 35"
equation "\"poeEthernetCableReliefLength\" = 35"
equation "\"thermisterDepth\" = 18"
equation "\"sensorDepth\" = 11"
equation "\"cutoutDepth\" = 0.5 * piCaseWidth"
equation "\"thickenDistance\" = 1"
equation "\"bottomOfCaseWallThickness\" = 3"
equation "\"rearWallThickness\" = 3"
equation "\"maxComponentDepth\" = extraCutoutDepth + 0.5 * piCaseWidth"
equation "\"caseDepth\" = maxComponentDepth + bottomOfCaseWallThickness"
equation "\"minDelta\" = 16"
equation "\"fanCutoutDepth\" = 0.5 * fanLength + extraCutoutDepth + thickenDistance"
equation "\"newCaseLength\" = 222.7"
equation "\"frontWallThickness\" = 3"
equation "\"d95\" = lensDiameter"
equation "\"extraCutoutDepth\" = 15.5"
equation "\"bottomExtrusion\" = 14"
equation "\"fanDepth\" = 16"
equation "\"fanWidth\" = 62"
equation "\"piCaseLength\" = 129"
equation "\"poeWidth\" = 49"
equation "\"poeLength\" = 118"
equation "\"thermisterLength\" = 69"
equation "\"thermisterWidth\" = 28"
equation "\"sensorLength\" = 50"
equation "\"sensorWidth\" = 17"
equation "\"fanLength\" = 60"
equation "\"lensDiameter\" = 15"
properties part number "caseLowerPortionMiddle" material "PC/ABS Plastic"
